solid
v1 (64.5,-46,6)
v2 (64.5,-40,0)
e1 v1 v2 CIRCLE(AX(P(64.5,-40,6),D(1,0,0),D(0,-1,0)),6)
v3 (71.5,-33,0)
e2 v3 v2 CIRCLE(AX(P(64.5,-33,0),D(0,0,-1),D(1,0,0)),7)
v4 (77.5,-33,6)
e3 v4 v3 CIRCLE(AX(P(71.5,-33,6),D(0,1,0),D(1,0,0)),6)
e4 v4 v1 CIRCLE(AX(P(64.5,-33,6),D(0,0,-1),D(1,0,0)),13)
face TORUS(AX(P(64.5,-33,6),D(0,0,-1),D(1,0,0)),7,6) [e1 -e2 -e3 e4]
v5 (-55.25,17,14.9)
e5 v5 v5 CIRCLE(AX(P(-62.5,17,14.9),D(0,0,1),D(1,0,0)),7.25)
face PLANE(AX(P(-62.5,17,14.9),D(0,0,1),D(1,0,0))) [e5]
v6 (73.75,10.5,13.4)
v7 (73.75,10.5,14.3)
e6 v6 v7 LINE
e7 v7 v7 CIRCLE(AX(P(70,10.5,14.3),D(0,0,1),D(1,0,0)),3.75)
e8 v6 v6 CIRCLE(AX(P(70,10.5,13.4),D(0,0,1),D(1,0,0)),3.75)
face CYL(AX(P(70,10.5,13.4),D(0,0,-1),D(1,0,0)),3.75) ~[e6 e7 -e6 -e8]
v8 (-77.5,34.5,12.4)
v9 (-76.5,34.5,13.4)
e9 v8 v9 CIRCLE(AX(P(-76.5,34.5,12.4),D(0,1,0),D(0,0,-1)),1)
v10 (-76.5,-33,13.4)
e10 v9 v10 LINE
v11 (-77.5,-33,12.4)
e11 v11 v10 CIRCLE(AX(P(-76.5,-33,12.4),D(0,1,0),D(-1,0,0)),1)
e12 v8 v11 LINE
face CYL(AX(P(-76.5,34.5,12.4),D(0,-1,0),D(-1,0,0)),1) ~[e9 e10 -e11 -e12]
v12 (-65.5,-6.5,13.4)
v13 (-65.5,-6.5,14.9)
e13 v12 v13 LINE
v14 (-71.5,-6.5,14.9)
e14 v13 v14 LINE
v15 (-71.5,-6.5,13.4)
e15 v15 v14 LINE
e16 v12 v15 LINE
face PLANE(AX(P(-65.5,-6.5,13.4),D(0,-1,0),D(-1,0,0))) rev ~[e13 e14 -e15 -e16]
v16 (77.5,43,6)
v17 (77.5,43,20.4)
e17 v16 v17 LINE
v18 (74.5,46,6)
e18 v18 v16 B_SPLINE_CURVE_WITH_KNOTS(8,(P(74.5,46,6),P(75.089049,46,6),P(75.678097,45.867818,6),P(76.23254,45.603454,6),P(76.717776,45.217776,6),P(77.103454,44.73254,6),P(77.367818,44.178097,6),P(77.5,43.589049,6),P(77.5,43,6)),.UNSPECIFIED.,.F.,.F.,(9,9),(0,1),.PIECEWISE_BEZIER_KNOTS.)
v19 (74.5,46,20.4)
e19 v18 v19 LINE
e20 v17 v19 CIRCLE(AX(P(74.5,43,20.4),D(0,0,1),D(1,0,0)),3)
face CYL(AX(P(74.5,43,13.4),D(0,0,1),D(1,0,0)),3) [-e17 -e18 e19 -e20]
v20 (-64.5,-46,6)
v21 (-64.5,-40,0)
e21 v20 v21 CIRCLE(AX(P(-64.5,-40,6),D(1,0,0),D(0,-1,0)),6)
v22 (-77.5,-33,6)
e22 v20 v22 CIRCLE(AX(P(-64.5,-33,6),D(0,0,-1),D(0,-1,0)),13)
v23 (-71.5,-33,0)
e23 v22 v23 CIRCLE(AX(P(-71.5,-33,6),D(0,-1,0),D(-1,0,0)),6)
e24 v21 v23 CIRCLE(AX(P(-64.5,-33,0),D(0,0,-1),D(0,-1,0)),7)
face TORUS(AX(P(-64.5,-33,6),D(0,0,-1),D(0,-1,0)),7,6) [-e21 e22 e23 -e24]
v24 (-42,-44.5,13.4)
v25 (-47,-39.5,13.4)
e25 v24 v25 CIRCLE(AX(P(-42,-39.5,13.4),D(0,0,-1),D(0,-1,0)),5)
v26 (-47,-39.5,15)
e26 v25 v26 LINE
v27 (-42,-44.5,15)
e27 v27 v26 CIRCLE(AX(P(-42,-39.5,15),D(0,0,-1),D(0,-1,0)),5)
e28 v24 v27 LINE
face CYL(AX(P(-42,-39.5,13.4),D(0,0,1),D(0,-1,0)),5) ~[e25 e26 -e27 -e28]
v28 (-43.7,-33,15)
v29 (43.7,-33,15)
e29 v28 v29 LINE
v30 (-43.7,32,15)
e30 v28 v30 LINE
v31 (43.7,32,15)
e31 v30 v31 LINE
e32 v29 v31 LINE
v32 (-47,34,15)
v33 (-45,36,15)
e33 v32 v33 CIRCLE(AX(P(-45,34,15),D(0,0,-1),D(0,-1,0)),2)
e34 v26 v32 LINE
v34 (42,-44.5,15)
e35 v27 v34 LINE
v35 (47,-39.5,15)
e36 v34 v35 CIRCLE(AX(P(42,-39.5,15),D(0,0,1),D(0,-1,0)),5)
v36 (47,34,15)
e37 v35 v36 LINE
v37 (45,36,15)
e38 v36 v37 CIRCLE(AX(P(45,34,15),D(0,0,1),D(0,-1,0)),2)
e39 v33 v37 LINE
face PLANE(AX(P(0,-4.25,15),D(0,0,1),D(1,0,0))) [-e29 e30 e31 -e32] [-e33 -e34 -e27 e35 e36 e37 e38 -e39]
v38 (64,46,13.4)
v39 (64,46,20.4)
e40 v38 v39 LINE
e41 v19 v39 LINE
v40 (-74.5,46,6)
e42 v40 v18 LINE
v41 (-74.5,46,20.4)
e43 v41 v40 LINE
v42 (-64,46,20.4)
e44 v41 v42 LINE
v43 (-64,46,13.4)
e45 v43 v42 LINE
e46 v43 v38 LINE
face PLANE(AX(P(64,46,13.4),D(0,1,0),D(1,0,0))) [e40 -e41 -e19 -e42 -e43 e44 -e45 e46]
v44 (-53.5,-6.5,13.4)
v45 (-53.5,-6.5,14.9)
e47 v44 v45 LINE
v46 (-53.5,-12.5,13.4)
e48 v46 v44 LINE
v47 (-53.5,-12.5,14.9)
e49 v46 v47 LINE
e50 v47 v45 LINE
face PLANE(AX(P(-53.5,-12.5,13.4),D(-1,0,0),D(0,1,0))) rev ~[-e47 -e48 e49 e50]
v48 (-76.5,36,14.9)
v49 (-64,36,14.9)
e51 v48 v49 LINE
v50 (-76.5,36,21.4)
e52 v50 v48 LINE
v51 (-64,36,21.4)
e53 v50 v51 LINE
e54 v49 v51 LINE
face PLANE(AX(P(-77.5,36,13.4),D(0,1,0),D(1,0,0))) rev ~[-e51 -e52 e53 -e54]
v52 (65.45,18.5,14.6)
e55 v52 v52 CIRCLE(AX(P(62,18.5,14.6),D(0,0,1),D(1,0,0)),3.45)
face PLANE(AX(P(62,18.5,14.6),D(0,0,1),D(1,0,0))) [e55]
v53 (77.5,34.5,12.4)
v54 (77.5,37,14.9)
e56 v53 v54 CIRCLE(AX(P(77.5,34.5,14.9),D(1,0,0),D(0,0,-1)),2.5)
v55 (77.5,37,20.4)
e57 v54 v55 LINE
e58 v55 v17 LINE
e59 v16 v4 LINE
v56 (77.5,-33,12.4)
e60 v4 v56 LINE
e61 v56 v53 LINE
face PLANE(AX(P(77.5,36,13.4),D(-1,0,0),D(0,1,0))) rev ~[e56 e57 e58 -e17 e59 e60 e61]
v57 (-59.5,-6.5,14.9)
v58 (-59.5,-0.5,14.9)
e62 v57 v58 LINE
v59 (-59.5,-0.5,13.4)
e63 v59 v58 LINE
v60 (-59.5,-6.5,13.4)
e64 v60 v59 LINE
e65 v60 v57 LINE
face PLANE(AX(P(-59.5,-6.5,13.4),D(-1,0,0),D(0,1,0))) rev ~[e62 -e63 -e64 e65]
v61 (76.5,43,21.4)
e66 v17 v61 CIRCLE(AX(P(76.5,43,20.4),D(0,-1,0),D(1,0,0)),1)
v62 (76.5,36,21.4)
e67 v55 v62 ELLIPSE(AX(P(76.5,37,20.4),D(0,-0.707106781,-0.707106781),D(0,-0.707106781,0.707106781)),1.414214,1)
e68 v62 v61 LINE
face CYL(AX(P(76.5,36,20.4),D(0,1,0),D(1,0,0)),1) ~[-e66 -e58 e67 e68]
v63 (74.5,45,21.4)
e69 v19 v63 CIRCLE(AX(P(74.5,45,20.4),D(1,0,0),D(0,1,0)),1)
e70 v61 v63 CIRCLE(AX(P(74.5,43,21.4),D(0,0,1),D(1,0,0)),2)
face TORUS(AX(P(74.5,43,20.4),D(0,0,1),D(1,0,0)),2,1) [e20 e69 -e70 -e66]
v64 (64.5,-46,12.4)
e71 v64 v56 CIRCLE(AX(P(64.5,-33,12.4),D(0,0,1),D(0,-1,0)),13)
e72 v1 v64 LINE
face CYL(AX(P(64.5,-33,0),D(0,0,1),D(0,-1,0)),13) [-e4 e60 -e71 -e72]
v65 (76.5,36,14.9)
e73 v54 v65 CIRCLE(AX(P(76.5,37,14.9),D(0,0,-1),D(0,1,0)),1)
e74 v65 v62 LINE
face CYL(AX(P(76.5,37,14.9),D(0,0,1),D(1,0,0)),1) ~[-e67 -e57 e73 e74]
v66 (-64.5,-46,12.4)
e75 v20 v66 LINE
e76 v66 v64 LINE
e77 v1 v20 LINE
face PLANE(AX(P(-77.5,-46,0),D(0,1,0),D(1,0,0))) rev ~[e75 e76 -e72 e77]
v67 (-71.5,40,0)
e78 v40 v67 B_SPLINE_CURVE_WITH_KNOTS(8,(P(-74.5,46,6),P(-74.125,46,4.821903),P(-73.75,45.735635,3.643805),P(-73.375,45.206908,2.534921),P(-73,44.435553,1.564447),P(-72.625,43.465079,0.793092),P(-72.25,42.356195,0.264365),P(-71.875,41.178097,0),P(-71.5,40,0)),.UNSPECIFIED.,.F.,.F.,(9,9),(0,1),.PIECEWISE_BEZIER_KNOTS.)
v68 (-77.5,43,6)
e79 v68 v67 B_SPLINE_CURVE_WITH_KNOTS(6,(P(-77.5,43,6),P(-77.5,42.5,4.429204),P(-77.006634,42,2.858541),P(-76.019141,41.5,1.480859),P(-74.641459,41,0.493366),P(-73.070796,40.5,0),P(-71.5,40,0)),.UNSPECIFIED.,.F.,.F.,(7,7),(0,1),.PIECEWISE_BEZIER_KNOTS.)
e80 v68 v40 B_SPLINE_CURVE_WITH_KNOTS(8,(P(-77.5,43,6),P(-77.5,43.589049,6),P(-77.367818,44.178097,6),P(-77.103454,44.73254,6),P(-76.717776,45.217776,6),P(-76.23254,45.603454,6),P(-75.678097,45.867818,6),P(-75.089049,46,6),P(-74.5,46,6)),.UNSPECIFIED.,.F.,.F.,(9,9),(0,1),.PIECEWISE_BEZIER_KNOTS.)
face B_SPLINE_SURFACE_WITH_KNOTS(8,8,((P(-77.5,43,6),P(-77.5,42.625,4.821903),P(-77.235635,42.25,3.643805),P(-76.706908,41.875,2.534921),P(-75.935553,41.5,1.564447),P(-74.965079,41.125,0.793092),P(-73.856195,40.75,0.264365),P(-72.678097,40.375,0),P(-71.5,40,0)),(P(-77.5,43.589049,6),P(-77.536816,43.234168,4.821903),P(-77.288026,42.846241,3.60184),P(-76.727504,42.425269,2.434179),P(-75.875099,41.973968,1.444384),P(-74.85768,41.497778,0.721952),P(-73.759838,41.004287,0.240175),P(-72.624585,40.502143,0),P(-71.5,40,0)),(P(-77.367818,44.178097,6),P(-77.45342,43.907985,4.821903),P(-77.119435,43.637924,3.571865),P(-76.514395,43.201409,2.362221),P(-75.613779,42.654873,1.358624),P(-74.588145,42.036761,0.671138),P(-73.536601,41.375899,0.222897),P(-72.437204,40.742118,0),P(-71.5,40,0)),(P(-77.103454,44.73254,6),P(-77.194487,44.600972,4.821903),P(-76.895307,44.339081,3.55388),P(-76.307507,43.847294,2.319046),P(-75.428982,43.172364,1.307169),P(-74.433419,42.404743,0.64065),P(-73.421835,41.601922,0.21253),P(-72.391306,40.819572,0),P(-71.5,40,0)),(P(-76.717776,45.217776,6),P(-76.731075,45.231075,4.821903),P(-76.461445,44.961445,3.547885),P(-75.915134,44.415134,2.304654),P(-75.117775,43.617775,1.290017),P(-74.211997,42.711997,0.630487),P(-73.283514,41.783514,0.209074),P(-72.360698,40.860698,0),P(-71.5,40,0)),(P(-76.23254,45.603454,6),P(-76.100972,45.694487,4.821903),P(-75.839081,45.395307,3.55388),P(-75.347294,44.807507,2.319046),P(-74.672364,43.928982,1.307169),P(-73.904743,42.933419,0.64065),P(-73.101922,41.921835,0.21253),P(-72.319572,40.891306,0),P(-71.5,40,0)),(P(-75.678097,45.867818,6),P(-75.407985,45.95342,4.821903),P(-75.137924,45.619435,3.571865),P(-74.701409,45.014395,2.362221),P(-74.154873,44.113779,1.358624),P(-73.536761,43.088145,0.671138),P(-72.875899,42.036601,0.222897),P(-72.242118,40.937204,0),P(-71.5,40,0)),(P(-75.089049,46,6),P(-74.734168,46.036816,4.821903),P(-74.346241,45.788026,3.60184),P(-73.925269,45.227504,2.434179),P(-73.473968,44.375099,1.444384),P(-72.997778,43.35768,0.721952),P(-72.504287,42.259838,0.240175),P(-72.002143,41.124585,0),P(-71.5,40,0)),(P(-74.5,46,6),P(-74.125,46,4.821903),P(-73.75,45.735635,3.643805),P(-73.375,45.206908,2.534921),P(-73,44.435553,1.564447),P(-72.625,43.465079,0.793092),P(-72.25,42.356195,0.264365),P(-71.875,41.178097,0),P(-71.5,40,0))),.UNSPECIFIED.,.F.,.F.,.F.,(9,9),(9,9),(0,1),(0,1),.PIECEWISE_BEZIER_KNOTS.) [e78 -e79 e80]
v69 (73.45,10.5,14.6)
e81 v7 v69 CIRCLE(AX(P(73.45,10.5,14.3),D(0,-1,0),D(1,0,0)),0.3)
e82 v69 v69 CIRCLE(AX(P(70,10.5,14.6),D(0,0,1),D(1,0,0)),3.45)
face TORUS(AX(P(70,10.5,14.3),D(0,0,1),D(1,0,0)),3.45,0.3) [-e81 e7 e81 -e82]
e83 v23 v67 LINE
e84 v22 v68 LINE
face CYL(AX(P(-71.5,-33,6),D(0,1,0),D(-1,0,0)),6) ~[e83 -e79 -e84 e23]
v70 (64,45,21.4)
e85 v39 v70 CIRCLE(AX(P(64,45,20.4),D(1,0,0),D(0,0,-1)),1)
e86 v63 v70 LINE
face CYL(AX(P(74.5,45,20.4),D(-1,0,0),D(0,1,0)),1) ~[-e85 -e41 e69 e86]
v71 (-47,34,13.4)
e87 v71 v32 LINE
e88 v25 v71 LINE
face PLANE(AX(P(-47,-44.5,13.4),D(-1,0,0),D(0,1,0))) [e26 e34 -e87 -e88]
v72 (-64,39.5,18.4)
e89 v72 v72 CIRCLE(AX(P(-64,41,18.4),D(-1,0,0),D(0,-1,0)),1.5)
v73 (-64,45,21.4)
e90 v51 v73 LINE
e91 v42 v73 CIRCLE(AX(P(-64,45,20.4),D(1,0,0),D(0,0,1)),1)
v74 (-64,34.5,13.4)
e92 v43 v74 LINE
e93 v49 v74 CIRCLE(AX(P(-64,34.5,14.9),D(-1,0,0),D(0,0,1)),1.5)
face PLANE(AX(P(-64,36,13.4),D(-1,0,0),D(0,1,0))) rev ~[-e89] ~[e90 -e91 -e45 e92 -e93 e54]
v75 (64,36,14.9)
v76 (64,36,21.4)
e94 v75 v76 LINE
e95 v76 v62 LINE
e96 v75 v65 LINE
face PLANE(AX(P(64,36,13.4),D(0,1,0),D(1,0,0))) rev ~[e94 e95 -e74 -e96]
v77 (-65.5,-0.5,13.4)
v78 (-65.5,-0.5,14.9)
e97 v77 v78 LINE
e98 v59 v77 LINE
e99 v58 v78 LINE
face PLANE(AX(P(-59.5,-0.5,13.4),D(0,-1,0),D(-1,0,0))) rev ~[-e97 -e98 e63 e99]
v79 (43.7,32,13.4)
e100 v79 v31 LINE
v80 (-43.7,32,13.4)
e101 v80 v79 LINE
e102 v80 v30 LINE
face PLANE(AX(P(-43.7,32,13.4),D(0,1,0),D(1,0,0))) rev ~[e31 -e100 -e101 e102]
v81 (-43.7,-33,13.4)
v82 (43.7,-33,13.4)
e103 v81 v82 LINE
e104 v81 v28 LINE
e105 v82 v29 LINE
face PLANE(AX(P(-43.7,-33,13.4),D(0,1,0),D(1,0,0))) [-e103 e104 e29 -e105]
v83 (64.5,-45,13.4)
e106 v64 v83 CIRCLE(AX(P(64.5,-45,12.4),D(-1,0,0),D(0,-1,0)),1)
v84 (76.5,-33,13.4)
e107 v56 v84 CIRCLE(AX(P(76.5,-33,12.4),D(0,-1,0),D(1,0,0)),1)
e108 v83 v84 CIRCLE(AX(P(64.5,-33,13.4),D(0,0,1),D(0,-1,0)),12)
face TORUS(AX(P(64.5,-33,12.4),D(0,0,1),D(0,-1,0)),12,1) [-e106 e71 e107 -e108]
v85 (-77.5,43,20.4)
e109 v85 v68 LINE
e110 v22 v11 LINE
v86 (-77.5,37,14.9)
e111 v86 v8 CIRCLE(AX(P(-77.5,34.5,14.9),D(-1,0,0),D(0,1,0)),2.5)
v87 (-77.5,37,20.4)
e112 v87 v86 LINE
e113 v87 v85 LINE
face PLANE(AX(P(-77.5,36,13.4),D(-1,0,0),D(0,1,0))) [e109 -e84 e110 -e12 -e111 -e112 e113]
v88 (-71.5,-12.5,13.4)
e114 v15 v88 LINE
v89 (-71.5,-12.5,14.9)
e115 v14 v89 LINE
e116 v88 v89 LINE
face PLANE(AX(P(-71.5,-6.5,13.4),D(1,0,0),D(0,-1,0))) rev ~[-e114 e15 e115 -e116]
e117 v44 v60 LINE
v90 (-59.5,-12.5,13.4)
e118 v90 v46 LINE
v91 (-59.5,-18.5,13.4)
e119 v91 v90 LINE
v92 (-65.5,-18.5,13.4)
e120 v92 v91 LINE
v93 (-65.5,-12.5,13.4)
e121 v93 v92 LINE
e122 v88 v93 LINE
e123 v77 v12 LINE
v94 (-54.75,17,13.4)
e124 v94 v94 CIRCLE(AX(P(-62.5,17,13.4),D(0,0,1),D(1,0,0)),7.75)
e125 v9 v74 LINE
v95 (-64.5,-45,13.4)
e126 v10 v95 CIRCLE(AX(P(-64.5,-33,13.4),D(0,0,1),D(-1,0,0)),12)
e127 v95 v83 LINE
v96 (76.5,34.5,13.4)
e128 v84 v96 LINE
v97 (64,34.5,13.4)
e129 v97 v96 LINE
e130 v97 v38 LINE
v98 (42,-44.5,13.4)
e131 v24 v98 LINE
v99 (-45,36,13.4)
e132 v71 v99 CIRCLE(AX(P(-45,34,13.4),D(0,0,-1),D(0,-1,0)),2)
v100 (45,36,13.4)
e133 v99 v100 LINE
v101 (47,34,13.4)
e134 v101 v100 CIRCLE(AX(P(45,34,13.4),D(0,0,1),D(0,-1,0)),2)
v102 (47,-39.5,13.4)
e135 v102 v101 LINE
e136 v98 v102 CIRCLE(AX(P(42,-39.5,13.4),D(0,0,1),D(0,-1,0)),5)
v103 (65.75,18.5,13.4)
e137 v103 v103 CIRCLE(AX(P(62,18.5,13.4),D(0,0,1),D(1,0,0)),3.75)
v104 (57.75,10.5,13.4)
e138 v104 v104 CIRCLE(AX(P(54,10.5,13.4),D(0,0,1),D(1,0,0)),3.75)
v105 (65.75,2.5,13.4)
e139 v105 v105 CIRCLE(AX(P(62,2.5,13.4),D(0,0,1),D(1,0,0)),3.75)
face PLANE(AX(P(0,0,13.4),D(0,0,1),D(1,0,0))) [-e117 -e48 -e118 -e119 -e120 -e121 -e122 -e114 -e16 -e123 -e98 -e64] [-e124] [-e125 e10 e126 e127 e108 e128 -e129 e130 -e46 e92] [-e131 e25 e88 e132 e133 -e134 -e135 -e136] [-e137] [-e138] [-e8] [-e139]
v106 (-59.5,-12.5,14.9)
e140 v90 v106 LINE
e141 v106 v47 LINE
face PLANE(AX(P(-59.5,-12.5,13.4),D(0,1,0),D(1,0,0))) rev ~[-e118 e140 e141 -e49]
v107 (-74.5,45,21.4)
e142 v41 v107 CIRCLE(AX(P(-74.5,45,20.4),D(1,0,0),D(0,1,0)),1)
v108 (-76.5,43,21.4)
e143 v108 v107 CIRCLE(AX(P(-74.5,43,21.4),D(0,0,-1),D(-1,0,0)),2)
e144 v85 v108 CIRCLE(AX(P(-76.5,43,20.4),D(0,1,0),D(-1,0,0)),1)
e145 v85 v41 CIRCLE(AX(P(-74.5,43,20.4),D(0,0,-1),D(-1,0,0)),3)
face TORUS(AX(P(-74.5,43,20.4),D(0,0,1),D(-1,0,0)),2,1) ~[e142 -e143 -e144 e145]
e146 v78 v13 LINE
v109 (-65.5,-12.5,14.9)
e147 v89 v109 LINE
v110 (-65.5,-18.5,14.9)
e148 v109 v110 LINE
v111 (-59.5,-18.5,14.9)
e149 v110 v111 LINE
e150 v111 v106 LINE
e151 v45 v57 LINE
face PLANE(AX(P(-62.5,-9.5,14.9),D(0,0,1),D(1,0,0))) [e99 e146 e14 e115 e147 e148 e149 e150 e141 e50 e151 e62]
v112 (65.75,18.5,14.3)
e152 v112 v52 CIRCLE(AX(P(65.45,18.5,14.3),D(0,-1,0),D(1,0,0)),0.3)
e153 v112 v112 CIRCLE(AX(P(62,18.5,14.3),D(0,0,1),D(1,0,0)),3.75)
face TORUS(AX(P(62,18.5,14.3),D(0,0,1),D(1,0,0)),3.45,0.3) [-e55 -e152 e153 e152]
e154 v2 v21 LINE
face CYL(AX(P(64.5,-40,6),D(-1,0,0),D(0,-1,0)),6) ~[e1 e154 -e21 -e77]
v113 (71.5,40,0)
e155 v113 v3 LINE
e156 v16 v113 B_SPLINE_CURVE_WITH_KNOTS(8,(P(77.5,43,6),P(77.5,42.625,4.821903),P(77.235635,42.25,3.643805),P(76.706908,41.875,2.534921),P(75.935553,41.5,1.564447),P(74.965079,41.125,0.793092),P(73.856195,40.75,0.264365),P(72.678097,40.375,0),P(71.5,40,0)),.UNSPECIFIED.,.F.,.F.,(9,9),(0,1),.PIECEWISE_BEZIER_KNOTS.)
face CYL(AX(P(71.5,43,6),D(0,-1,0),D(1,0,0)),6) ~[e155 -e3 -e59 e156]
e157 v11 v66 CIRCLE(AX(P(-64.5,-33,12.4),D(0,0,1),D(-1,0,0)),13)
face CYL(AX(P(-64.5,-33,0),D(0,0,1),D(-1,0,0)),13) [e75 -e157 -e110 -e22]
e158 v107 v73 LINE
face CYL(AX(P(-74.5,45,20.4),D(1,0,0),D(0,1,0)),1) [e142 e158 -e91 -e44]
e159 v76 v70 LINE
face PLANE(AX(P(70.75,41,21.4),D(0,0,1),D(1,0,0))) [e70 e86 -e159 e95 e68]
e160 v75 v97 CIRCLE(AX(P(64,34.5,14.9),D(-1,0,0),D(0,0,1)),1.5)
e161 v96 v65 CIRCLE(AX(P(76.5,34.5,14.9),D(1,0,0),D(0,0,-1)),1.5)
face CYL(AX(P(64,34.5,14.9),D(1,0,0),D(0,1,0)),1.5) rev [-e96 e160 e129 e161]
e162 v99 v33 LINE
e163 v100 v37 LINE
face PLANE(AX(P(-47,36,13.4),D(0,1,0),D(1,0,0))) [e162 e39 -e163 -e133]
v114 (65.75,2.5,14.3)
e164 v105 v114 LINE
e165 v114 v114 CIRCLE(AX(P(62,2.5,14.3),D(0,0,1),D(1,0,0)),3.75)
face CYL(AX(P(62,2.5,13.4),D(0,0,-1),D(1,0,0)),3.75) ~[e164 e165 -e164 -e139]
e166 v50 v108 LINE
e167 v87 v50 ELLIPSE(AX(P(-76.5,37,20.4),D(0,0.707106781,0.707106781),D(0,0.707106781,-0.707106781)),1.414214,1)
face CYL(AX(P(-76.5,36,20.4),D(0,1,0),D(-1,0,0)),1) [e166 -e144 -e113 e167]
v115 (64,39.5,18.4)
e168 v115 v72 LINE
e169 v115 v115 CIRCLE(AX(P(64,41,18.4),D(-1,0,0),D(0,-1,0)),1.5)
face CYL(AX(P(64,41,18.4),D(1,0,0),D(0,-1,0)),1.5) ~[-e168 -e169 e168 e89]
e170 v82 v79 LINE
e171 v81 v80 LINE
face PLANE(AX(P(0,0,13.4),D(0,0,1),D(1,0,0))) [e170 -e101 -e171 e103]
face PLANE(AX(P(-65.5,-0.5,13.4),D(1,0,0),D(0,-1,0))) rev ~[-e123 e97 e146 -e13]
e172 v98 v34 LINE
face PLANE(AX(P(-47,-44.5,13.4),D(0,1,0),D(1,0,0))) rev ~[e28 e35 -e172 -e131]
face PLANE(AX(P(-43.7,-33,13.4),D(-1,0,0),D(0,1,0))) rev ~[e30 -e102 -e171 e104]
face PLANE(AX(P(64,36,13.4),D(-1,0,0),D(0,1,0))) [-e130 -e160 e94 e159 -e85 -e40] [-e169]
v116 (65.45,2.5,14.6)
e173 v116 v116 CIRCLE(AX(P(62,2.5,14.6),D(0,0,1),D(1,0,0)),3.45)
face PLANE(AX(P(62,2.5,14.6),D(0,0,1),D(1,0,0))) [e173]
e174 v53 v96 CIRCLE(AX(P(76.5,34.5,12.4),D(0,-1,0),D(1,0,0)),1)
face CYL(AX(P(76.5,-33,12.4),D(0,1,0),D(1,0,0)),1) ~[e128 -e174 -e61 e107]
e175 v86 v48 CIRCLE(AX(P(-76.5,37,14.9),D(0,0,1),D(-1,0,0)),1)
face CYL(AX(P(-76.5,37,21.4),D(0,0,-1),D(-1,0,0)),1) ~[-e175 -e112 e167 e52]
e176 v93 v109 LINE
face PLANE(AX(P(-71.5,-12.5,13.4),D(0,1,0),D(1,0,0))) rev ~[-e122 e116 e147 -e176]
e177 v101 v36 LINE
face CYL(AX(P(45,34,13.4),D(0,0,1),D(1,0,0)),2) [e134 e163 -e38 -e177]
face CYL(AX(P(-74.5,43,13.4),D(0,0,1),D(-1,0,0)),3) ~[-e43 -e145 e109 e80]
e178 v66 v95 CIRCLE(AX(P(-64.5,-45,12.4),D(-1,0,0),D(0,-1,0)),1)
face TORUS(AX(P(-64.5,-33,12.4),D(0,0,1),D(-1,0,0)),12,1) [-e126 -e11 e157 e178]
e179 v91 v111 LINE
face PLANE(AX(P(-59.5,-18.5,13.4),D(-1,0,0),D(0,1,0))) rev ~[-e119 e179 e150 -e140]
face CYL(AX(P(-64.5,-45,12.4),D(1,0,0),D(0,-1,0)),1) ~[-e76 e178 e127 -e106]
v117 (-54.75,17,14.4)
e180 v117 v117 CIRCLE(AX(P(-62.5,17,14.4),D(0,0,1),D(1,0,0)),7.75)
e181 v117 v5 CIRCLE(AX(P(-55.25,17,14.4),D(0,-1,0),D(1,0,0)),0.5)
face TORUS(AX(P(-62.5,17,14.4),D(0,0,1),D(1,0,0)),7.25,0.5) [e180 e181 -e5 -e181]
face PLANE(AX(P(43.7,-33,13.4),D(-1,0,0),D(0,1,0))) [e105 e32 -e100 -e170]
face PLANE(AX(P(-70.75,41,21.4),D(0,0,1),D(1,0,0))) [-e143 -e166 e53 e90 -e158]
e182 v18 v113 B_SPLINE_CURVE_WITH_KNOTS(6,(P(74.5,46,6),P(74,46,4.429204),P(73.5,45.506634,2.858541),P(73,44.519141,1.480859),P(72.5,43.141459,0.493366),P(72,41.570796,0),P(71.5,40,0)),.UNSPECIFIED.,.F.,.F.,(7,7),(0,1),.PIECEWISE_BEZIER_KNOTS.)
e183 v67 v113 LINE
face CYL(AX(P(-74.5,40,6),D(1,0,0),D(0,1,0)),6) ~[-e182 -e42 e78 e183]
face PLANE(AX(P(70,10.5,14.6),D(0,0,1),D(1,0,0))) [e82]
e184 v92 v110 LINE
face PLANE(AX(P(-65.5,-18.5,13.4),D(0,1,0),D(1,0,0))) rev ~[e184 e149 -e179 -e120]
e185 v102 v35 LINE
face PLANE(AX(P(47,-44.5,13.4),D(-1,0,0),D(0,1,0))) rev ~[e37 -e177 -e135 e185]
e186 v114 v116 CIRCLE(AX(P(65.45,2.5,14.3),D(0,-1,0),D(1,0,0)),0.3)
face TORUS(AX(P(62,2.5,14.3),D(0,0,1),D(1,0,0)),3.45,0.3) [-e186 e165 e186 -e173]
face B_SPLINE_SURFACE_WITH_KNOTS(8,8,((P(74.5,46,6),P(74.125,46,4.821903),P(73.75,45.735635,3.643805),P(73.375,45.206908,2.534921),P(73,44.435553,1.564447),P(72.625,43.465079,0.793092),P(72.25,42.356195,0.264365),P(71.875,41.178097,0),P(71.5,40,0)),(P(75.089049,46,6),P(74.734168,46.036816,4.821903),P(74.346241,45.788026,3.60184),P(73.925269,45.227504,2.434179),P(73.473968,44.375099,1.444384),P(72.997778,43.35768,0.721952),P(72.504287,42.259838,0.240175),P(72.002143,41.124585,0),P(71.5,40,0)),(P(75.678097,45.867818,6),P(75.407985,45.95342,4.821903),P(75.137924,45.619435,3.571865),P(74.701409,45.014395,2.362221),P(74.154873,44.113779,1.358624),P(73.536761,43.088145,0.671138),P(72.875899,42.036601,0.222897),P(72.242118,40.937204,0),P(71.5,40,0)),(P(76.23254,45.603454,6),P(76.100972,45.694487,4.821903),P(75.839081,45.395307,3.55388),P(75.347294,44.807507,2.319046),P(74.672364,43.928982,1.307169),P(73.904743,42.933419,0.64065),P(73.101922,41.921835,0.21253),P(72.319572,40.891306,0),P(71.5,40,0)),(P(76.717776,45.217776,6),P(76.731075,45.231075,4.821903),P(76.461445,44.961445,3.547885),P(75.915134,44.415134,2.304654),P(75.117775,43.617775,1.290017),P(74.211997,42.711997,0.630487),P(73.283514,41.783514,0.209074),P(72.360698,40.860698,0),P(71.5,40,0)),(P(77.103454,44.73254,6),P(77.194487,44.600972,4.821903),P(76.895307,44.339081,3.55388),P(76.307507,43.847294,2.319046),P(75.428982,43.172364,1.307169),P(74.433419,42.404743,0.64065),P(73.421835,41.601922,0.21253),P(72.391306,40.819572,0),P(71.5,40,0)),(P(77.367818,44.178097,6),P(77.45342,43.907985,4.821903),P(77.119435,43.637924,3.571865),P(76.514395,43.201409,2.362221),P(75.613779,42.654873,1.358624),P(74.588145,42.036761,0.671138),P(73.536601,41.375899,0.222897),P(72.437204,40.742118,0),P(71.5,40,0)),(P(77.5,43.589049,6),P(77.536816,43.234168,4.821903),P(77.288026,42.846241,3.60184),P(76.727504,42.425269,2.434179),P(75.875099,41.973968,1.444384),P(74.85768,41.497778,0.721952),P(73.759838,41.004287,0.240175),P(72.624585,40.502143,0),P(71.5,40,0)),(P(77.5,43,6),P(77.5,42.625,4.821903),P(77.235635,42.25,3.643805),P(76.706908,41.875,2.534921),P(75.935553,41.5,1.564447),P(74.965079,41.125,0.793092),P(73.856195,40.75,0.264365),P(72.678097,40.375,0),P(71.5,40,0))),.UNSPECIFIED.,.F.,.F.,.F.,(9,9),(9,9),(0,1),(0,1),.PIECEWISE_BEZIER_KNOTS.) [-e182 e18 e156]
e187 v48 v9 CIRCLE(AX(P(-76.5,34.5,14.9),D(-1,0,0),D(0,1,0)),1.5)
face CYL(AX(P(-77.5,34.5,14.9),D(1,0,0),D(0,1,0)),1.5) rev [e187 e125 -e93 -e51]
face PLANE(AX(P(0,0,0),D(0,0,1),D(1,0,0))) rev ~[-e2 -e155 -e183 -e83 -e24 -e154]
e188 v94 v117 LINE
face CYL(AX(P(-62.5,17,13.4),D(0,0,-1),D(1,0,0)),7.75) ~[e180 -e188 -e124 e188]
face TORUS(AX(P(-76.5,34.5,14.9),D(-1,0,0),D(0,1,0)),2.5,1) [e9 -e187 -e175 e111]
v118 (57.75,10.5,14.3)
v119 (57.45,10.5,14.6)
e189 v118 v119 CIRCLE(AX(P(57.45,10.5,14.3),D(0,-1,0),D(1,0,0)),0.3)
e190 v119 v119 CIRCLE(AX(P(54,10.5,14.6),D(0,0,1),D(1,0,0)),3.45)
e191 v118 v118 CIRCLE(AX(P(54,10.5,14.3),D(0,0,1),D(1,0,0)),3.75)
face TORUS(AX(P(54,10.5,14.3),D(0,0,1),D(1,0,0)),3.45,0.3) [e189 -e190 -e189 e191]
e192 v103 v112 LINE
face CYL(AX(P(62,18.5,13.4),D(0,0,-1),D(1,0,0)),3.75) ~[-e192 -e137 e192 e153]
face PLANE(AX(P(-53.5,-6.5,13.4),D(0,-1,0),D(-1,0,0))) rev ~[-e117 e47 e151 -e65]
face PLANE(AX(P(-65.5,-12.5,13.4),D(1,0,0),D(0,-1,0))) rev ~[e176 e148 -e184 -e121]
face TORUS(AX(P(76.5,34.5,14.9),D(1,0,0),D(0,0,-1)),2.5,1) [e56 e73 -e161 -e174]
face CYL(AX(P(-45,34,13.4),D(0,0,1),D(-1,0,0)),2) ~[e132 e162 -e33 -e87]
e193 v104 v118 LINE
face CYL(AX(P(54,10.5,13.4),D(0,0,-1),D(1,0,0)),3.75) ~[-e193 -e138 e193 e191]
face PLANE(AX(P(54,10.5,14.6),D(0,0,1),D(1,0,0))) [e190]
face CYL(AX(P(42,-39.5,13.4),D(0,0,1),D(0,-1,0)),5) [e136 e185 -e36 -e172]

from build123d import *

# Parameters (mm, degrees)
PAD006_DEPTH  = 1.5
SKETCH006_R   = 7.75
PAD007_DEPTH  = 1.5
FILLET003_R   = 0.5
SKETCH004_R   = 3.75
PAD002_DEPTH  = 1.2
FILLET006_R   = 0.3
SKETCH007_R   = 3.75
PAD003_DEPTH  = 1.2
FILLET005_R   = 0.3
SKETCH008_R   = 3.75
PAD004_DEPTH  = 1.2
FILLET004_R   = 0.3
SKETCH009_R   = 3.75
PAD005_DEPTH  = 1.2
FILLET007_R   = 0.3
SKETCH002_W   = 94
SKETCH002_H   = 80.5
SKETCH002_W_2 = 87.4
SKETCH002_H_2 = 65
PAD001_DEPTH  = 1.6
SKETCH010_W   = 13.5
SKETCH010_H   = 10
PAD008_DEPTH  = 8
FILLET008_R   = 3
SKETCH013_W   = 13.5
SKETCH013_H   = 10
PAD009_DEPTH  = 8
FILLET009_R   = 3
SKETCH014_R   = 1.5
PAD010_DEPTH  = 128
SKETCH001_W   = 155
SKETCH001_H   = 92
PAD_DEPTH     = 13.4
FILLET_R      = 13
FILLET001_R   = 3
FILLET002_R   = 6
FILLET010_R   = 1.5
FILLET011_R   = 1
FILLET012_R   = 5
FILLET013_R   = 2


with BuildPart() as cross_button:
    # Sketch005 → Pad006 (new body)
    with BuildSketch(Plane.XY):
        Polygon((-59.5, -0.5), (-65.5, -0.5), (-65.5, -6.5), (-71.5, -6.5), (-71.5, -12.5), (-65.5, -12.5), (-65.5, -18.5), (-59.5, -18.5), (-59.5, -12.5), (-53.5, -12.5), (-53.5, -6.5), (-59.5, -6.5), align=None)
    extrude(amount=PAD006_DEPTH)


with BuildPart() as cross_button_1:
    # Body005 placement: moved
    add(cross_button.part.moved(Location((0, 0, 13.4))))


with BuildPart() as joystick:
    # Sketch006 → Pad007 (new body)
    with BuildSketch(Plane.XY):
        with Locations((-62.5, 17)):
            Circle(SKETCH006_R)
    extrude(amount=PAD007_DEPTH)

    # Fillet003
    fillet003_edges = [joystick.edges().sort_by_distance(p)[0] for p in [
        (-70.25, 17, 1.5),
    ]]
    fillet(fillet003_edges, radius=FILLET003_R)


with BuildPart() as joystick_1:
    # Body006 placement: moved
    add(joystick.part.moved(Location((0, 0, 13.4))))


with BuildPart() as buttonsb:
    # Sketch004 → Pad002 (new body)
    with BuildSketch(Plane.XY):
        with Locations((62, 2.5)):
            Circle(SKETCH004_R)
    extrude(amount=PAD002_DEPTH)

    # Fillet006
    fillet006_edges = [buttonsb.edges().sort_by_distance(p)[0] for p in [
        (58.25, 2.5, 1.2),
    ]]
    fillet(fillet006_edges, radius=FILLET006_R)


with BuildPart() as buttonsb_1:
    # Body004 placement: moved
    add(buttonsb.part.moved(Location((0, 0, 13.4))))


with BuildPart() as buttonsy:
    # Sketch007 → Pad003 (new body)
    with BuildSketch(Plane.XY):
        with Locations((54, 10.5)):
            Circle(SKETCH007_R)
    extrude(amount=PAD003_DEPTH)

    # Fillet005
    fillet005_edges = [buttonsy.edges().sort_by_distance(p)[0] for p in [
        (50.25, 10.5, 1.2),
    ]]
    fillet(fillet005_edges, radius=FILLET005_R)


with BuildPart() as buttonsy_1:
    # Body007 placement: moved
    add(buttonsy.part.moved(Location((0, 0, 13.4))))


with BuildPart() as buttonsx:
    # Sketch008 → Pad004 (new body)
    with BuildSketch(Plane.XY):
        with Locations((62, 18.5)):
            Circle(SKETCH008_R)
    extrude(amount=PAD004_DEPTH)

    # Fillet004
    fillet004_edges = [buttonsx.edges().sort_by_distance(p)[0] for p in [
        (58.25, 18.5, 1.2),
    ]]
    fillet(fillet004_edges, radius=FILLET004_R)


with BuildPart() as buttonsx_1:
    # Body008 placement: moved
    add(buttonsx.part.moved(Location((0, 0, 13.4))))


with BuildPart() as buttonsa:
    # Sketch009 → Pad005 (new body)
    with BuildSketch(Plane.XY):
        with Locations((70, 10.5)):
            Circle(SKETCH009_R)
    extrude(amount=PAD005_DEPTH)

    # Fillet007
    fillet007_edges = [buttonsa.edges().sort_by_distance(p)[0] for p in [
        (66.25, 10.5, 1.2),
    ]]
    fillet(fillet007_edges, radius=FILLET007_R)


with BuildPart() as buttonsa_1:
    # Body009 placement: moved
    add(buttonsa.part.moved(Location((0, 0, 13.4))))


with BuildPart() as screen_perimeter:
    # Sketch002 → Pad001 (new body)
    with BuildSketch(Plane.XY):
        with Locations((0, -4.25)):
            Rectangle(SKETCH002_W, SKETCH002_H)
        with Locations((0, -0.5)):
            Rectangle(SKETCH002_W_2, SKETCH002_H_2, mode=Mode.SUBTRACT)
    extrude(amount=PAD001_DEPTH)


with BuildPart() as screen_perimeter_1:
    # Body002 placement: moved
    add(screen_perimeter.part.moved(Location((0, 0, 13.4))))


with BuildPart() as hinge_bottom_l:
    # Sketch010 → Pad008 (new body)
    with BuildSketch(Plane.XY):
        with Locations((-70.75, 41)):
            Rectangle(SKETCH010_W, SKETCH010_H)
    extrude(amount=PAD008_DEPTH)

    # Fillet008
    fillet008_edges = [hinge_bottom_l.edges().sort_by_distance(p)[0] for p in [
        (-77.5, 46, 4),
    ]]
    fillet(fillet008_edges, radius=FILLET008_R)


with BuildPart() as hinge_bottom_l_1:
    # Body010 placement: moved
    add(hinge_bottom_l.part.moved(Location((0, 0, 13.4))))


with BuildPart() as hinge_bottom_r:
    # Sketch013 → Pad009 (new body)
    with BuildSketch(Plane.XY):
        with Locations((70.75, 41)):
            Rectangle(SKETCH013_W, SKETCH013_H)
    extrude(amount=PAD009_DEPTH)

    # Fillet009
    fillet009_edges = [hinge_bottom_r.edges().sort_by_distance(p)[0] for p in [
        (77.5, 46, 4),
    ]]
    fillet(fillet009_edges, radius=FILLET009_R)

    # Sketch014 (on Face4 of Fillet009) → Pad010 (join)
    with BuildSketch(Plane(origin=(64, 0, 0), x_dir=(0, -1, 0), z_dir=(-1, 0, 0))):
        with Locations((-41, 5)):
            Circle(SKETCH014_R)
    extrude(amount=PAD010_DEPTH)


with BuildPart() as hinge_bottom_r_1:
    # Body013 placement: moved
    add(hinge_bottom_r.part.moved(Location((0, 0, 13.4))))


with BuildPart() as main_bottom:
    # Sketch001 → Pad (new body)
    with BuildSketch(Plane.XY):
        Rectangle(SKETCH001_W, SKETCH001_H)
    extrude(amount=PAD_DEPTH)

    # Fillet
    fillet_edges = [main_bottom.edges().sort_by_distance(p)[0] for p in [
        (-77.5, -46, 6.7),
        (77.5, -46, 6.7),
    ]]
    fillet(fillet_edges, radius=FILLET_R)

    # Fillet001
    fillet001_edges = [main_bottom.edges().sort_by_distance(p)[0] for p in [
        (-77.5, 46, 6.7),
        (77.5, 46, 6.7),
    ]]
    fillet(fillet001_edges, radius=FILLET001_R)

    # Fillet002
    fillet002_edges = [main_bottom.edges().sort_by_distance(p)[0] for p in [
        (-77.5, 5, 0),
        (-73.692388, -42.192388, 0),
        (0, -46, 0),
        (73.692388, -42.192388, 0),
        (77.5, 5, 0),
    ]]
    fillet(fillet002_edges, radius=FILLET002_R)

    # Boolean: union cross_button, joystick, buttonsB, buttonsY, buttonsX, buttonsA, screen_perimeter
    add(cross_button_1.part)
    add(joystick_1.part)
    add(buttonsb_1.part)
    add(buttonsy_1.part)
    add(buttonsx_1.part)
    add(buttonsa_1.part)
    add(screen_perimeter_1.part)

    # Boolean001: union hinge_bottom_L
    add(hinge_bottom_l_1.part)

    # Boolean002: union hinge_bottom_R
    add(hinge_bottom_r_1.part)

    # Fillet010
    fillet010_edges = [main_bottom.edges().sort_by_distance(p)[0] for p in [
        (-70.75, 36, 13.4),
        (70.75, 36, 13.4),
    ]]
    fillet(fillet010_edges, radius=FILLET010_R)

    # Fillet011
    fillet011_edges = [main_bottom.edges().sort_by_distance(p)[0] for p in [
        (77.5, 36, 18.15),
        (77.5, 35.56066, 13.83934),
        (77.5, 39.5, 21.4),
        (77.5, 0.75, 13.4),
        (77.5, 43, 13.7),
        (77.5, -33, 9.7),
        (77.5, 5, 6),
        (-77.5, 0.75, 13.4),
        (-77.5, 35.56066, 13.83934),
        (-77.5, -33, 9.7),
        (-77.5, 36, 18.15),
        (-77.5, 5, 6),
        (-77.5, 39.5, 21.4),
        (-77.5, 43, 13.7),
    ]]
    fillet(fillet011_edges, radius=FILLET011_R)

    # Fillet012
    fillet012_edges = [main_bottom.edges().sort_by_distance(p)[0] for p in [
        (-47, -44.5, 14.2),
        (47, -44.5, 14.2),
    ]]
    fillet(fillet012_edges, radius=FILLET012_R)

    # Fillet013
    fillet013_edges = [main_bottom.edges().sort_by_distance(p)[0] for p in [
        (-47, 36, 14.2),
        (47, 36, 14.2),
    ]]
    fillet(fillet013_edges, radius=FILLET013_R)


solid = main_bottom.part
